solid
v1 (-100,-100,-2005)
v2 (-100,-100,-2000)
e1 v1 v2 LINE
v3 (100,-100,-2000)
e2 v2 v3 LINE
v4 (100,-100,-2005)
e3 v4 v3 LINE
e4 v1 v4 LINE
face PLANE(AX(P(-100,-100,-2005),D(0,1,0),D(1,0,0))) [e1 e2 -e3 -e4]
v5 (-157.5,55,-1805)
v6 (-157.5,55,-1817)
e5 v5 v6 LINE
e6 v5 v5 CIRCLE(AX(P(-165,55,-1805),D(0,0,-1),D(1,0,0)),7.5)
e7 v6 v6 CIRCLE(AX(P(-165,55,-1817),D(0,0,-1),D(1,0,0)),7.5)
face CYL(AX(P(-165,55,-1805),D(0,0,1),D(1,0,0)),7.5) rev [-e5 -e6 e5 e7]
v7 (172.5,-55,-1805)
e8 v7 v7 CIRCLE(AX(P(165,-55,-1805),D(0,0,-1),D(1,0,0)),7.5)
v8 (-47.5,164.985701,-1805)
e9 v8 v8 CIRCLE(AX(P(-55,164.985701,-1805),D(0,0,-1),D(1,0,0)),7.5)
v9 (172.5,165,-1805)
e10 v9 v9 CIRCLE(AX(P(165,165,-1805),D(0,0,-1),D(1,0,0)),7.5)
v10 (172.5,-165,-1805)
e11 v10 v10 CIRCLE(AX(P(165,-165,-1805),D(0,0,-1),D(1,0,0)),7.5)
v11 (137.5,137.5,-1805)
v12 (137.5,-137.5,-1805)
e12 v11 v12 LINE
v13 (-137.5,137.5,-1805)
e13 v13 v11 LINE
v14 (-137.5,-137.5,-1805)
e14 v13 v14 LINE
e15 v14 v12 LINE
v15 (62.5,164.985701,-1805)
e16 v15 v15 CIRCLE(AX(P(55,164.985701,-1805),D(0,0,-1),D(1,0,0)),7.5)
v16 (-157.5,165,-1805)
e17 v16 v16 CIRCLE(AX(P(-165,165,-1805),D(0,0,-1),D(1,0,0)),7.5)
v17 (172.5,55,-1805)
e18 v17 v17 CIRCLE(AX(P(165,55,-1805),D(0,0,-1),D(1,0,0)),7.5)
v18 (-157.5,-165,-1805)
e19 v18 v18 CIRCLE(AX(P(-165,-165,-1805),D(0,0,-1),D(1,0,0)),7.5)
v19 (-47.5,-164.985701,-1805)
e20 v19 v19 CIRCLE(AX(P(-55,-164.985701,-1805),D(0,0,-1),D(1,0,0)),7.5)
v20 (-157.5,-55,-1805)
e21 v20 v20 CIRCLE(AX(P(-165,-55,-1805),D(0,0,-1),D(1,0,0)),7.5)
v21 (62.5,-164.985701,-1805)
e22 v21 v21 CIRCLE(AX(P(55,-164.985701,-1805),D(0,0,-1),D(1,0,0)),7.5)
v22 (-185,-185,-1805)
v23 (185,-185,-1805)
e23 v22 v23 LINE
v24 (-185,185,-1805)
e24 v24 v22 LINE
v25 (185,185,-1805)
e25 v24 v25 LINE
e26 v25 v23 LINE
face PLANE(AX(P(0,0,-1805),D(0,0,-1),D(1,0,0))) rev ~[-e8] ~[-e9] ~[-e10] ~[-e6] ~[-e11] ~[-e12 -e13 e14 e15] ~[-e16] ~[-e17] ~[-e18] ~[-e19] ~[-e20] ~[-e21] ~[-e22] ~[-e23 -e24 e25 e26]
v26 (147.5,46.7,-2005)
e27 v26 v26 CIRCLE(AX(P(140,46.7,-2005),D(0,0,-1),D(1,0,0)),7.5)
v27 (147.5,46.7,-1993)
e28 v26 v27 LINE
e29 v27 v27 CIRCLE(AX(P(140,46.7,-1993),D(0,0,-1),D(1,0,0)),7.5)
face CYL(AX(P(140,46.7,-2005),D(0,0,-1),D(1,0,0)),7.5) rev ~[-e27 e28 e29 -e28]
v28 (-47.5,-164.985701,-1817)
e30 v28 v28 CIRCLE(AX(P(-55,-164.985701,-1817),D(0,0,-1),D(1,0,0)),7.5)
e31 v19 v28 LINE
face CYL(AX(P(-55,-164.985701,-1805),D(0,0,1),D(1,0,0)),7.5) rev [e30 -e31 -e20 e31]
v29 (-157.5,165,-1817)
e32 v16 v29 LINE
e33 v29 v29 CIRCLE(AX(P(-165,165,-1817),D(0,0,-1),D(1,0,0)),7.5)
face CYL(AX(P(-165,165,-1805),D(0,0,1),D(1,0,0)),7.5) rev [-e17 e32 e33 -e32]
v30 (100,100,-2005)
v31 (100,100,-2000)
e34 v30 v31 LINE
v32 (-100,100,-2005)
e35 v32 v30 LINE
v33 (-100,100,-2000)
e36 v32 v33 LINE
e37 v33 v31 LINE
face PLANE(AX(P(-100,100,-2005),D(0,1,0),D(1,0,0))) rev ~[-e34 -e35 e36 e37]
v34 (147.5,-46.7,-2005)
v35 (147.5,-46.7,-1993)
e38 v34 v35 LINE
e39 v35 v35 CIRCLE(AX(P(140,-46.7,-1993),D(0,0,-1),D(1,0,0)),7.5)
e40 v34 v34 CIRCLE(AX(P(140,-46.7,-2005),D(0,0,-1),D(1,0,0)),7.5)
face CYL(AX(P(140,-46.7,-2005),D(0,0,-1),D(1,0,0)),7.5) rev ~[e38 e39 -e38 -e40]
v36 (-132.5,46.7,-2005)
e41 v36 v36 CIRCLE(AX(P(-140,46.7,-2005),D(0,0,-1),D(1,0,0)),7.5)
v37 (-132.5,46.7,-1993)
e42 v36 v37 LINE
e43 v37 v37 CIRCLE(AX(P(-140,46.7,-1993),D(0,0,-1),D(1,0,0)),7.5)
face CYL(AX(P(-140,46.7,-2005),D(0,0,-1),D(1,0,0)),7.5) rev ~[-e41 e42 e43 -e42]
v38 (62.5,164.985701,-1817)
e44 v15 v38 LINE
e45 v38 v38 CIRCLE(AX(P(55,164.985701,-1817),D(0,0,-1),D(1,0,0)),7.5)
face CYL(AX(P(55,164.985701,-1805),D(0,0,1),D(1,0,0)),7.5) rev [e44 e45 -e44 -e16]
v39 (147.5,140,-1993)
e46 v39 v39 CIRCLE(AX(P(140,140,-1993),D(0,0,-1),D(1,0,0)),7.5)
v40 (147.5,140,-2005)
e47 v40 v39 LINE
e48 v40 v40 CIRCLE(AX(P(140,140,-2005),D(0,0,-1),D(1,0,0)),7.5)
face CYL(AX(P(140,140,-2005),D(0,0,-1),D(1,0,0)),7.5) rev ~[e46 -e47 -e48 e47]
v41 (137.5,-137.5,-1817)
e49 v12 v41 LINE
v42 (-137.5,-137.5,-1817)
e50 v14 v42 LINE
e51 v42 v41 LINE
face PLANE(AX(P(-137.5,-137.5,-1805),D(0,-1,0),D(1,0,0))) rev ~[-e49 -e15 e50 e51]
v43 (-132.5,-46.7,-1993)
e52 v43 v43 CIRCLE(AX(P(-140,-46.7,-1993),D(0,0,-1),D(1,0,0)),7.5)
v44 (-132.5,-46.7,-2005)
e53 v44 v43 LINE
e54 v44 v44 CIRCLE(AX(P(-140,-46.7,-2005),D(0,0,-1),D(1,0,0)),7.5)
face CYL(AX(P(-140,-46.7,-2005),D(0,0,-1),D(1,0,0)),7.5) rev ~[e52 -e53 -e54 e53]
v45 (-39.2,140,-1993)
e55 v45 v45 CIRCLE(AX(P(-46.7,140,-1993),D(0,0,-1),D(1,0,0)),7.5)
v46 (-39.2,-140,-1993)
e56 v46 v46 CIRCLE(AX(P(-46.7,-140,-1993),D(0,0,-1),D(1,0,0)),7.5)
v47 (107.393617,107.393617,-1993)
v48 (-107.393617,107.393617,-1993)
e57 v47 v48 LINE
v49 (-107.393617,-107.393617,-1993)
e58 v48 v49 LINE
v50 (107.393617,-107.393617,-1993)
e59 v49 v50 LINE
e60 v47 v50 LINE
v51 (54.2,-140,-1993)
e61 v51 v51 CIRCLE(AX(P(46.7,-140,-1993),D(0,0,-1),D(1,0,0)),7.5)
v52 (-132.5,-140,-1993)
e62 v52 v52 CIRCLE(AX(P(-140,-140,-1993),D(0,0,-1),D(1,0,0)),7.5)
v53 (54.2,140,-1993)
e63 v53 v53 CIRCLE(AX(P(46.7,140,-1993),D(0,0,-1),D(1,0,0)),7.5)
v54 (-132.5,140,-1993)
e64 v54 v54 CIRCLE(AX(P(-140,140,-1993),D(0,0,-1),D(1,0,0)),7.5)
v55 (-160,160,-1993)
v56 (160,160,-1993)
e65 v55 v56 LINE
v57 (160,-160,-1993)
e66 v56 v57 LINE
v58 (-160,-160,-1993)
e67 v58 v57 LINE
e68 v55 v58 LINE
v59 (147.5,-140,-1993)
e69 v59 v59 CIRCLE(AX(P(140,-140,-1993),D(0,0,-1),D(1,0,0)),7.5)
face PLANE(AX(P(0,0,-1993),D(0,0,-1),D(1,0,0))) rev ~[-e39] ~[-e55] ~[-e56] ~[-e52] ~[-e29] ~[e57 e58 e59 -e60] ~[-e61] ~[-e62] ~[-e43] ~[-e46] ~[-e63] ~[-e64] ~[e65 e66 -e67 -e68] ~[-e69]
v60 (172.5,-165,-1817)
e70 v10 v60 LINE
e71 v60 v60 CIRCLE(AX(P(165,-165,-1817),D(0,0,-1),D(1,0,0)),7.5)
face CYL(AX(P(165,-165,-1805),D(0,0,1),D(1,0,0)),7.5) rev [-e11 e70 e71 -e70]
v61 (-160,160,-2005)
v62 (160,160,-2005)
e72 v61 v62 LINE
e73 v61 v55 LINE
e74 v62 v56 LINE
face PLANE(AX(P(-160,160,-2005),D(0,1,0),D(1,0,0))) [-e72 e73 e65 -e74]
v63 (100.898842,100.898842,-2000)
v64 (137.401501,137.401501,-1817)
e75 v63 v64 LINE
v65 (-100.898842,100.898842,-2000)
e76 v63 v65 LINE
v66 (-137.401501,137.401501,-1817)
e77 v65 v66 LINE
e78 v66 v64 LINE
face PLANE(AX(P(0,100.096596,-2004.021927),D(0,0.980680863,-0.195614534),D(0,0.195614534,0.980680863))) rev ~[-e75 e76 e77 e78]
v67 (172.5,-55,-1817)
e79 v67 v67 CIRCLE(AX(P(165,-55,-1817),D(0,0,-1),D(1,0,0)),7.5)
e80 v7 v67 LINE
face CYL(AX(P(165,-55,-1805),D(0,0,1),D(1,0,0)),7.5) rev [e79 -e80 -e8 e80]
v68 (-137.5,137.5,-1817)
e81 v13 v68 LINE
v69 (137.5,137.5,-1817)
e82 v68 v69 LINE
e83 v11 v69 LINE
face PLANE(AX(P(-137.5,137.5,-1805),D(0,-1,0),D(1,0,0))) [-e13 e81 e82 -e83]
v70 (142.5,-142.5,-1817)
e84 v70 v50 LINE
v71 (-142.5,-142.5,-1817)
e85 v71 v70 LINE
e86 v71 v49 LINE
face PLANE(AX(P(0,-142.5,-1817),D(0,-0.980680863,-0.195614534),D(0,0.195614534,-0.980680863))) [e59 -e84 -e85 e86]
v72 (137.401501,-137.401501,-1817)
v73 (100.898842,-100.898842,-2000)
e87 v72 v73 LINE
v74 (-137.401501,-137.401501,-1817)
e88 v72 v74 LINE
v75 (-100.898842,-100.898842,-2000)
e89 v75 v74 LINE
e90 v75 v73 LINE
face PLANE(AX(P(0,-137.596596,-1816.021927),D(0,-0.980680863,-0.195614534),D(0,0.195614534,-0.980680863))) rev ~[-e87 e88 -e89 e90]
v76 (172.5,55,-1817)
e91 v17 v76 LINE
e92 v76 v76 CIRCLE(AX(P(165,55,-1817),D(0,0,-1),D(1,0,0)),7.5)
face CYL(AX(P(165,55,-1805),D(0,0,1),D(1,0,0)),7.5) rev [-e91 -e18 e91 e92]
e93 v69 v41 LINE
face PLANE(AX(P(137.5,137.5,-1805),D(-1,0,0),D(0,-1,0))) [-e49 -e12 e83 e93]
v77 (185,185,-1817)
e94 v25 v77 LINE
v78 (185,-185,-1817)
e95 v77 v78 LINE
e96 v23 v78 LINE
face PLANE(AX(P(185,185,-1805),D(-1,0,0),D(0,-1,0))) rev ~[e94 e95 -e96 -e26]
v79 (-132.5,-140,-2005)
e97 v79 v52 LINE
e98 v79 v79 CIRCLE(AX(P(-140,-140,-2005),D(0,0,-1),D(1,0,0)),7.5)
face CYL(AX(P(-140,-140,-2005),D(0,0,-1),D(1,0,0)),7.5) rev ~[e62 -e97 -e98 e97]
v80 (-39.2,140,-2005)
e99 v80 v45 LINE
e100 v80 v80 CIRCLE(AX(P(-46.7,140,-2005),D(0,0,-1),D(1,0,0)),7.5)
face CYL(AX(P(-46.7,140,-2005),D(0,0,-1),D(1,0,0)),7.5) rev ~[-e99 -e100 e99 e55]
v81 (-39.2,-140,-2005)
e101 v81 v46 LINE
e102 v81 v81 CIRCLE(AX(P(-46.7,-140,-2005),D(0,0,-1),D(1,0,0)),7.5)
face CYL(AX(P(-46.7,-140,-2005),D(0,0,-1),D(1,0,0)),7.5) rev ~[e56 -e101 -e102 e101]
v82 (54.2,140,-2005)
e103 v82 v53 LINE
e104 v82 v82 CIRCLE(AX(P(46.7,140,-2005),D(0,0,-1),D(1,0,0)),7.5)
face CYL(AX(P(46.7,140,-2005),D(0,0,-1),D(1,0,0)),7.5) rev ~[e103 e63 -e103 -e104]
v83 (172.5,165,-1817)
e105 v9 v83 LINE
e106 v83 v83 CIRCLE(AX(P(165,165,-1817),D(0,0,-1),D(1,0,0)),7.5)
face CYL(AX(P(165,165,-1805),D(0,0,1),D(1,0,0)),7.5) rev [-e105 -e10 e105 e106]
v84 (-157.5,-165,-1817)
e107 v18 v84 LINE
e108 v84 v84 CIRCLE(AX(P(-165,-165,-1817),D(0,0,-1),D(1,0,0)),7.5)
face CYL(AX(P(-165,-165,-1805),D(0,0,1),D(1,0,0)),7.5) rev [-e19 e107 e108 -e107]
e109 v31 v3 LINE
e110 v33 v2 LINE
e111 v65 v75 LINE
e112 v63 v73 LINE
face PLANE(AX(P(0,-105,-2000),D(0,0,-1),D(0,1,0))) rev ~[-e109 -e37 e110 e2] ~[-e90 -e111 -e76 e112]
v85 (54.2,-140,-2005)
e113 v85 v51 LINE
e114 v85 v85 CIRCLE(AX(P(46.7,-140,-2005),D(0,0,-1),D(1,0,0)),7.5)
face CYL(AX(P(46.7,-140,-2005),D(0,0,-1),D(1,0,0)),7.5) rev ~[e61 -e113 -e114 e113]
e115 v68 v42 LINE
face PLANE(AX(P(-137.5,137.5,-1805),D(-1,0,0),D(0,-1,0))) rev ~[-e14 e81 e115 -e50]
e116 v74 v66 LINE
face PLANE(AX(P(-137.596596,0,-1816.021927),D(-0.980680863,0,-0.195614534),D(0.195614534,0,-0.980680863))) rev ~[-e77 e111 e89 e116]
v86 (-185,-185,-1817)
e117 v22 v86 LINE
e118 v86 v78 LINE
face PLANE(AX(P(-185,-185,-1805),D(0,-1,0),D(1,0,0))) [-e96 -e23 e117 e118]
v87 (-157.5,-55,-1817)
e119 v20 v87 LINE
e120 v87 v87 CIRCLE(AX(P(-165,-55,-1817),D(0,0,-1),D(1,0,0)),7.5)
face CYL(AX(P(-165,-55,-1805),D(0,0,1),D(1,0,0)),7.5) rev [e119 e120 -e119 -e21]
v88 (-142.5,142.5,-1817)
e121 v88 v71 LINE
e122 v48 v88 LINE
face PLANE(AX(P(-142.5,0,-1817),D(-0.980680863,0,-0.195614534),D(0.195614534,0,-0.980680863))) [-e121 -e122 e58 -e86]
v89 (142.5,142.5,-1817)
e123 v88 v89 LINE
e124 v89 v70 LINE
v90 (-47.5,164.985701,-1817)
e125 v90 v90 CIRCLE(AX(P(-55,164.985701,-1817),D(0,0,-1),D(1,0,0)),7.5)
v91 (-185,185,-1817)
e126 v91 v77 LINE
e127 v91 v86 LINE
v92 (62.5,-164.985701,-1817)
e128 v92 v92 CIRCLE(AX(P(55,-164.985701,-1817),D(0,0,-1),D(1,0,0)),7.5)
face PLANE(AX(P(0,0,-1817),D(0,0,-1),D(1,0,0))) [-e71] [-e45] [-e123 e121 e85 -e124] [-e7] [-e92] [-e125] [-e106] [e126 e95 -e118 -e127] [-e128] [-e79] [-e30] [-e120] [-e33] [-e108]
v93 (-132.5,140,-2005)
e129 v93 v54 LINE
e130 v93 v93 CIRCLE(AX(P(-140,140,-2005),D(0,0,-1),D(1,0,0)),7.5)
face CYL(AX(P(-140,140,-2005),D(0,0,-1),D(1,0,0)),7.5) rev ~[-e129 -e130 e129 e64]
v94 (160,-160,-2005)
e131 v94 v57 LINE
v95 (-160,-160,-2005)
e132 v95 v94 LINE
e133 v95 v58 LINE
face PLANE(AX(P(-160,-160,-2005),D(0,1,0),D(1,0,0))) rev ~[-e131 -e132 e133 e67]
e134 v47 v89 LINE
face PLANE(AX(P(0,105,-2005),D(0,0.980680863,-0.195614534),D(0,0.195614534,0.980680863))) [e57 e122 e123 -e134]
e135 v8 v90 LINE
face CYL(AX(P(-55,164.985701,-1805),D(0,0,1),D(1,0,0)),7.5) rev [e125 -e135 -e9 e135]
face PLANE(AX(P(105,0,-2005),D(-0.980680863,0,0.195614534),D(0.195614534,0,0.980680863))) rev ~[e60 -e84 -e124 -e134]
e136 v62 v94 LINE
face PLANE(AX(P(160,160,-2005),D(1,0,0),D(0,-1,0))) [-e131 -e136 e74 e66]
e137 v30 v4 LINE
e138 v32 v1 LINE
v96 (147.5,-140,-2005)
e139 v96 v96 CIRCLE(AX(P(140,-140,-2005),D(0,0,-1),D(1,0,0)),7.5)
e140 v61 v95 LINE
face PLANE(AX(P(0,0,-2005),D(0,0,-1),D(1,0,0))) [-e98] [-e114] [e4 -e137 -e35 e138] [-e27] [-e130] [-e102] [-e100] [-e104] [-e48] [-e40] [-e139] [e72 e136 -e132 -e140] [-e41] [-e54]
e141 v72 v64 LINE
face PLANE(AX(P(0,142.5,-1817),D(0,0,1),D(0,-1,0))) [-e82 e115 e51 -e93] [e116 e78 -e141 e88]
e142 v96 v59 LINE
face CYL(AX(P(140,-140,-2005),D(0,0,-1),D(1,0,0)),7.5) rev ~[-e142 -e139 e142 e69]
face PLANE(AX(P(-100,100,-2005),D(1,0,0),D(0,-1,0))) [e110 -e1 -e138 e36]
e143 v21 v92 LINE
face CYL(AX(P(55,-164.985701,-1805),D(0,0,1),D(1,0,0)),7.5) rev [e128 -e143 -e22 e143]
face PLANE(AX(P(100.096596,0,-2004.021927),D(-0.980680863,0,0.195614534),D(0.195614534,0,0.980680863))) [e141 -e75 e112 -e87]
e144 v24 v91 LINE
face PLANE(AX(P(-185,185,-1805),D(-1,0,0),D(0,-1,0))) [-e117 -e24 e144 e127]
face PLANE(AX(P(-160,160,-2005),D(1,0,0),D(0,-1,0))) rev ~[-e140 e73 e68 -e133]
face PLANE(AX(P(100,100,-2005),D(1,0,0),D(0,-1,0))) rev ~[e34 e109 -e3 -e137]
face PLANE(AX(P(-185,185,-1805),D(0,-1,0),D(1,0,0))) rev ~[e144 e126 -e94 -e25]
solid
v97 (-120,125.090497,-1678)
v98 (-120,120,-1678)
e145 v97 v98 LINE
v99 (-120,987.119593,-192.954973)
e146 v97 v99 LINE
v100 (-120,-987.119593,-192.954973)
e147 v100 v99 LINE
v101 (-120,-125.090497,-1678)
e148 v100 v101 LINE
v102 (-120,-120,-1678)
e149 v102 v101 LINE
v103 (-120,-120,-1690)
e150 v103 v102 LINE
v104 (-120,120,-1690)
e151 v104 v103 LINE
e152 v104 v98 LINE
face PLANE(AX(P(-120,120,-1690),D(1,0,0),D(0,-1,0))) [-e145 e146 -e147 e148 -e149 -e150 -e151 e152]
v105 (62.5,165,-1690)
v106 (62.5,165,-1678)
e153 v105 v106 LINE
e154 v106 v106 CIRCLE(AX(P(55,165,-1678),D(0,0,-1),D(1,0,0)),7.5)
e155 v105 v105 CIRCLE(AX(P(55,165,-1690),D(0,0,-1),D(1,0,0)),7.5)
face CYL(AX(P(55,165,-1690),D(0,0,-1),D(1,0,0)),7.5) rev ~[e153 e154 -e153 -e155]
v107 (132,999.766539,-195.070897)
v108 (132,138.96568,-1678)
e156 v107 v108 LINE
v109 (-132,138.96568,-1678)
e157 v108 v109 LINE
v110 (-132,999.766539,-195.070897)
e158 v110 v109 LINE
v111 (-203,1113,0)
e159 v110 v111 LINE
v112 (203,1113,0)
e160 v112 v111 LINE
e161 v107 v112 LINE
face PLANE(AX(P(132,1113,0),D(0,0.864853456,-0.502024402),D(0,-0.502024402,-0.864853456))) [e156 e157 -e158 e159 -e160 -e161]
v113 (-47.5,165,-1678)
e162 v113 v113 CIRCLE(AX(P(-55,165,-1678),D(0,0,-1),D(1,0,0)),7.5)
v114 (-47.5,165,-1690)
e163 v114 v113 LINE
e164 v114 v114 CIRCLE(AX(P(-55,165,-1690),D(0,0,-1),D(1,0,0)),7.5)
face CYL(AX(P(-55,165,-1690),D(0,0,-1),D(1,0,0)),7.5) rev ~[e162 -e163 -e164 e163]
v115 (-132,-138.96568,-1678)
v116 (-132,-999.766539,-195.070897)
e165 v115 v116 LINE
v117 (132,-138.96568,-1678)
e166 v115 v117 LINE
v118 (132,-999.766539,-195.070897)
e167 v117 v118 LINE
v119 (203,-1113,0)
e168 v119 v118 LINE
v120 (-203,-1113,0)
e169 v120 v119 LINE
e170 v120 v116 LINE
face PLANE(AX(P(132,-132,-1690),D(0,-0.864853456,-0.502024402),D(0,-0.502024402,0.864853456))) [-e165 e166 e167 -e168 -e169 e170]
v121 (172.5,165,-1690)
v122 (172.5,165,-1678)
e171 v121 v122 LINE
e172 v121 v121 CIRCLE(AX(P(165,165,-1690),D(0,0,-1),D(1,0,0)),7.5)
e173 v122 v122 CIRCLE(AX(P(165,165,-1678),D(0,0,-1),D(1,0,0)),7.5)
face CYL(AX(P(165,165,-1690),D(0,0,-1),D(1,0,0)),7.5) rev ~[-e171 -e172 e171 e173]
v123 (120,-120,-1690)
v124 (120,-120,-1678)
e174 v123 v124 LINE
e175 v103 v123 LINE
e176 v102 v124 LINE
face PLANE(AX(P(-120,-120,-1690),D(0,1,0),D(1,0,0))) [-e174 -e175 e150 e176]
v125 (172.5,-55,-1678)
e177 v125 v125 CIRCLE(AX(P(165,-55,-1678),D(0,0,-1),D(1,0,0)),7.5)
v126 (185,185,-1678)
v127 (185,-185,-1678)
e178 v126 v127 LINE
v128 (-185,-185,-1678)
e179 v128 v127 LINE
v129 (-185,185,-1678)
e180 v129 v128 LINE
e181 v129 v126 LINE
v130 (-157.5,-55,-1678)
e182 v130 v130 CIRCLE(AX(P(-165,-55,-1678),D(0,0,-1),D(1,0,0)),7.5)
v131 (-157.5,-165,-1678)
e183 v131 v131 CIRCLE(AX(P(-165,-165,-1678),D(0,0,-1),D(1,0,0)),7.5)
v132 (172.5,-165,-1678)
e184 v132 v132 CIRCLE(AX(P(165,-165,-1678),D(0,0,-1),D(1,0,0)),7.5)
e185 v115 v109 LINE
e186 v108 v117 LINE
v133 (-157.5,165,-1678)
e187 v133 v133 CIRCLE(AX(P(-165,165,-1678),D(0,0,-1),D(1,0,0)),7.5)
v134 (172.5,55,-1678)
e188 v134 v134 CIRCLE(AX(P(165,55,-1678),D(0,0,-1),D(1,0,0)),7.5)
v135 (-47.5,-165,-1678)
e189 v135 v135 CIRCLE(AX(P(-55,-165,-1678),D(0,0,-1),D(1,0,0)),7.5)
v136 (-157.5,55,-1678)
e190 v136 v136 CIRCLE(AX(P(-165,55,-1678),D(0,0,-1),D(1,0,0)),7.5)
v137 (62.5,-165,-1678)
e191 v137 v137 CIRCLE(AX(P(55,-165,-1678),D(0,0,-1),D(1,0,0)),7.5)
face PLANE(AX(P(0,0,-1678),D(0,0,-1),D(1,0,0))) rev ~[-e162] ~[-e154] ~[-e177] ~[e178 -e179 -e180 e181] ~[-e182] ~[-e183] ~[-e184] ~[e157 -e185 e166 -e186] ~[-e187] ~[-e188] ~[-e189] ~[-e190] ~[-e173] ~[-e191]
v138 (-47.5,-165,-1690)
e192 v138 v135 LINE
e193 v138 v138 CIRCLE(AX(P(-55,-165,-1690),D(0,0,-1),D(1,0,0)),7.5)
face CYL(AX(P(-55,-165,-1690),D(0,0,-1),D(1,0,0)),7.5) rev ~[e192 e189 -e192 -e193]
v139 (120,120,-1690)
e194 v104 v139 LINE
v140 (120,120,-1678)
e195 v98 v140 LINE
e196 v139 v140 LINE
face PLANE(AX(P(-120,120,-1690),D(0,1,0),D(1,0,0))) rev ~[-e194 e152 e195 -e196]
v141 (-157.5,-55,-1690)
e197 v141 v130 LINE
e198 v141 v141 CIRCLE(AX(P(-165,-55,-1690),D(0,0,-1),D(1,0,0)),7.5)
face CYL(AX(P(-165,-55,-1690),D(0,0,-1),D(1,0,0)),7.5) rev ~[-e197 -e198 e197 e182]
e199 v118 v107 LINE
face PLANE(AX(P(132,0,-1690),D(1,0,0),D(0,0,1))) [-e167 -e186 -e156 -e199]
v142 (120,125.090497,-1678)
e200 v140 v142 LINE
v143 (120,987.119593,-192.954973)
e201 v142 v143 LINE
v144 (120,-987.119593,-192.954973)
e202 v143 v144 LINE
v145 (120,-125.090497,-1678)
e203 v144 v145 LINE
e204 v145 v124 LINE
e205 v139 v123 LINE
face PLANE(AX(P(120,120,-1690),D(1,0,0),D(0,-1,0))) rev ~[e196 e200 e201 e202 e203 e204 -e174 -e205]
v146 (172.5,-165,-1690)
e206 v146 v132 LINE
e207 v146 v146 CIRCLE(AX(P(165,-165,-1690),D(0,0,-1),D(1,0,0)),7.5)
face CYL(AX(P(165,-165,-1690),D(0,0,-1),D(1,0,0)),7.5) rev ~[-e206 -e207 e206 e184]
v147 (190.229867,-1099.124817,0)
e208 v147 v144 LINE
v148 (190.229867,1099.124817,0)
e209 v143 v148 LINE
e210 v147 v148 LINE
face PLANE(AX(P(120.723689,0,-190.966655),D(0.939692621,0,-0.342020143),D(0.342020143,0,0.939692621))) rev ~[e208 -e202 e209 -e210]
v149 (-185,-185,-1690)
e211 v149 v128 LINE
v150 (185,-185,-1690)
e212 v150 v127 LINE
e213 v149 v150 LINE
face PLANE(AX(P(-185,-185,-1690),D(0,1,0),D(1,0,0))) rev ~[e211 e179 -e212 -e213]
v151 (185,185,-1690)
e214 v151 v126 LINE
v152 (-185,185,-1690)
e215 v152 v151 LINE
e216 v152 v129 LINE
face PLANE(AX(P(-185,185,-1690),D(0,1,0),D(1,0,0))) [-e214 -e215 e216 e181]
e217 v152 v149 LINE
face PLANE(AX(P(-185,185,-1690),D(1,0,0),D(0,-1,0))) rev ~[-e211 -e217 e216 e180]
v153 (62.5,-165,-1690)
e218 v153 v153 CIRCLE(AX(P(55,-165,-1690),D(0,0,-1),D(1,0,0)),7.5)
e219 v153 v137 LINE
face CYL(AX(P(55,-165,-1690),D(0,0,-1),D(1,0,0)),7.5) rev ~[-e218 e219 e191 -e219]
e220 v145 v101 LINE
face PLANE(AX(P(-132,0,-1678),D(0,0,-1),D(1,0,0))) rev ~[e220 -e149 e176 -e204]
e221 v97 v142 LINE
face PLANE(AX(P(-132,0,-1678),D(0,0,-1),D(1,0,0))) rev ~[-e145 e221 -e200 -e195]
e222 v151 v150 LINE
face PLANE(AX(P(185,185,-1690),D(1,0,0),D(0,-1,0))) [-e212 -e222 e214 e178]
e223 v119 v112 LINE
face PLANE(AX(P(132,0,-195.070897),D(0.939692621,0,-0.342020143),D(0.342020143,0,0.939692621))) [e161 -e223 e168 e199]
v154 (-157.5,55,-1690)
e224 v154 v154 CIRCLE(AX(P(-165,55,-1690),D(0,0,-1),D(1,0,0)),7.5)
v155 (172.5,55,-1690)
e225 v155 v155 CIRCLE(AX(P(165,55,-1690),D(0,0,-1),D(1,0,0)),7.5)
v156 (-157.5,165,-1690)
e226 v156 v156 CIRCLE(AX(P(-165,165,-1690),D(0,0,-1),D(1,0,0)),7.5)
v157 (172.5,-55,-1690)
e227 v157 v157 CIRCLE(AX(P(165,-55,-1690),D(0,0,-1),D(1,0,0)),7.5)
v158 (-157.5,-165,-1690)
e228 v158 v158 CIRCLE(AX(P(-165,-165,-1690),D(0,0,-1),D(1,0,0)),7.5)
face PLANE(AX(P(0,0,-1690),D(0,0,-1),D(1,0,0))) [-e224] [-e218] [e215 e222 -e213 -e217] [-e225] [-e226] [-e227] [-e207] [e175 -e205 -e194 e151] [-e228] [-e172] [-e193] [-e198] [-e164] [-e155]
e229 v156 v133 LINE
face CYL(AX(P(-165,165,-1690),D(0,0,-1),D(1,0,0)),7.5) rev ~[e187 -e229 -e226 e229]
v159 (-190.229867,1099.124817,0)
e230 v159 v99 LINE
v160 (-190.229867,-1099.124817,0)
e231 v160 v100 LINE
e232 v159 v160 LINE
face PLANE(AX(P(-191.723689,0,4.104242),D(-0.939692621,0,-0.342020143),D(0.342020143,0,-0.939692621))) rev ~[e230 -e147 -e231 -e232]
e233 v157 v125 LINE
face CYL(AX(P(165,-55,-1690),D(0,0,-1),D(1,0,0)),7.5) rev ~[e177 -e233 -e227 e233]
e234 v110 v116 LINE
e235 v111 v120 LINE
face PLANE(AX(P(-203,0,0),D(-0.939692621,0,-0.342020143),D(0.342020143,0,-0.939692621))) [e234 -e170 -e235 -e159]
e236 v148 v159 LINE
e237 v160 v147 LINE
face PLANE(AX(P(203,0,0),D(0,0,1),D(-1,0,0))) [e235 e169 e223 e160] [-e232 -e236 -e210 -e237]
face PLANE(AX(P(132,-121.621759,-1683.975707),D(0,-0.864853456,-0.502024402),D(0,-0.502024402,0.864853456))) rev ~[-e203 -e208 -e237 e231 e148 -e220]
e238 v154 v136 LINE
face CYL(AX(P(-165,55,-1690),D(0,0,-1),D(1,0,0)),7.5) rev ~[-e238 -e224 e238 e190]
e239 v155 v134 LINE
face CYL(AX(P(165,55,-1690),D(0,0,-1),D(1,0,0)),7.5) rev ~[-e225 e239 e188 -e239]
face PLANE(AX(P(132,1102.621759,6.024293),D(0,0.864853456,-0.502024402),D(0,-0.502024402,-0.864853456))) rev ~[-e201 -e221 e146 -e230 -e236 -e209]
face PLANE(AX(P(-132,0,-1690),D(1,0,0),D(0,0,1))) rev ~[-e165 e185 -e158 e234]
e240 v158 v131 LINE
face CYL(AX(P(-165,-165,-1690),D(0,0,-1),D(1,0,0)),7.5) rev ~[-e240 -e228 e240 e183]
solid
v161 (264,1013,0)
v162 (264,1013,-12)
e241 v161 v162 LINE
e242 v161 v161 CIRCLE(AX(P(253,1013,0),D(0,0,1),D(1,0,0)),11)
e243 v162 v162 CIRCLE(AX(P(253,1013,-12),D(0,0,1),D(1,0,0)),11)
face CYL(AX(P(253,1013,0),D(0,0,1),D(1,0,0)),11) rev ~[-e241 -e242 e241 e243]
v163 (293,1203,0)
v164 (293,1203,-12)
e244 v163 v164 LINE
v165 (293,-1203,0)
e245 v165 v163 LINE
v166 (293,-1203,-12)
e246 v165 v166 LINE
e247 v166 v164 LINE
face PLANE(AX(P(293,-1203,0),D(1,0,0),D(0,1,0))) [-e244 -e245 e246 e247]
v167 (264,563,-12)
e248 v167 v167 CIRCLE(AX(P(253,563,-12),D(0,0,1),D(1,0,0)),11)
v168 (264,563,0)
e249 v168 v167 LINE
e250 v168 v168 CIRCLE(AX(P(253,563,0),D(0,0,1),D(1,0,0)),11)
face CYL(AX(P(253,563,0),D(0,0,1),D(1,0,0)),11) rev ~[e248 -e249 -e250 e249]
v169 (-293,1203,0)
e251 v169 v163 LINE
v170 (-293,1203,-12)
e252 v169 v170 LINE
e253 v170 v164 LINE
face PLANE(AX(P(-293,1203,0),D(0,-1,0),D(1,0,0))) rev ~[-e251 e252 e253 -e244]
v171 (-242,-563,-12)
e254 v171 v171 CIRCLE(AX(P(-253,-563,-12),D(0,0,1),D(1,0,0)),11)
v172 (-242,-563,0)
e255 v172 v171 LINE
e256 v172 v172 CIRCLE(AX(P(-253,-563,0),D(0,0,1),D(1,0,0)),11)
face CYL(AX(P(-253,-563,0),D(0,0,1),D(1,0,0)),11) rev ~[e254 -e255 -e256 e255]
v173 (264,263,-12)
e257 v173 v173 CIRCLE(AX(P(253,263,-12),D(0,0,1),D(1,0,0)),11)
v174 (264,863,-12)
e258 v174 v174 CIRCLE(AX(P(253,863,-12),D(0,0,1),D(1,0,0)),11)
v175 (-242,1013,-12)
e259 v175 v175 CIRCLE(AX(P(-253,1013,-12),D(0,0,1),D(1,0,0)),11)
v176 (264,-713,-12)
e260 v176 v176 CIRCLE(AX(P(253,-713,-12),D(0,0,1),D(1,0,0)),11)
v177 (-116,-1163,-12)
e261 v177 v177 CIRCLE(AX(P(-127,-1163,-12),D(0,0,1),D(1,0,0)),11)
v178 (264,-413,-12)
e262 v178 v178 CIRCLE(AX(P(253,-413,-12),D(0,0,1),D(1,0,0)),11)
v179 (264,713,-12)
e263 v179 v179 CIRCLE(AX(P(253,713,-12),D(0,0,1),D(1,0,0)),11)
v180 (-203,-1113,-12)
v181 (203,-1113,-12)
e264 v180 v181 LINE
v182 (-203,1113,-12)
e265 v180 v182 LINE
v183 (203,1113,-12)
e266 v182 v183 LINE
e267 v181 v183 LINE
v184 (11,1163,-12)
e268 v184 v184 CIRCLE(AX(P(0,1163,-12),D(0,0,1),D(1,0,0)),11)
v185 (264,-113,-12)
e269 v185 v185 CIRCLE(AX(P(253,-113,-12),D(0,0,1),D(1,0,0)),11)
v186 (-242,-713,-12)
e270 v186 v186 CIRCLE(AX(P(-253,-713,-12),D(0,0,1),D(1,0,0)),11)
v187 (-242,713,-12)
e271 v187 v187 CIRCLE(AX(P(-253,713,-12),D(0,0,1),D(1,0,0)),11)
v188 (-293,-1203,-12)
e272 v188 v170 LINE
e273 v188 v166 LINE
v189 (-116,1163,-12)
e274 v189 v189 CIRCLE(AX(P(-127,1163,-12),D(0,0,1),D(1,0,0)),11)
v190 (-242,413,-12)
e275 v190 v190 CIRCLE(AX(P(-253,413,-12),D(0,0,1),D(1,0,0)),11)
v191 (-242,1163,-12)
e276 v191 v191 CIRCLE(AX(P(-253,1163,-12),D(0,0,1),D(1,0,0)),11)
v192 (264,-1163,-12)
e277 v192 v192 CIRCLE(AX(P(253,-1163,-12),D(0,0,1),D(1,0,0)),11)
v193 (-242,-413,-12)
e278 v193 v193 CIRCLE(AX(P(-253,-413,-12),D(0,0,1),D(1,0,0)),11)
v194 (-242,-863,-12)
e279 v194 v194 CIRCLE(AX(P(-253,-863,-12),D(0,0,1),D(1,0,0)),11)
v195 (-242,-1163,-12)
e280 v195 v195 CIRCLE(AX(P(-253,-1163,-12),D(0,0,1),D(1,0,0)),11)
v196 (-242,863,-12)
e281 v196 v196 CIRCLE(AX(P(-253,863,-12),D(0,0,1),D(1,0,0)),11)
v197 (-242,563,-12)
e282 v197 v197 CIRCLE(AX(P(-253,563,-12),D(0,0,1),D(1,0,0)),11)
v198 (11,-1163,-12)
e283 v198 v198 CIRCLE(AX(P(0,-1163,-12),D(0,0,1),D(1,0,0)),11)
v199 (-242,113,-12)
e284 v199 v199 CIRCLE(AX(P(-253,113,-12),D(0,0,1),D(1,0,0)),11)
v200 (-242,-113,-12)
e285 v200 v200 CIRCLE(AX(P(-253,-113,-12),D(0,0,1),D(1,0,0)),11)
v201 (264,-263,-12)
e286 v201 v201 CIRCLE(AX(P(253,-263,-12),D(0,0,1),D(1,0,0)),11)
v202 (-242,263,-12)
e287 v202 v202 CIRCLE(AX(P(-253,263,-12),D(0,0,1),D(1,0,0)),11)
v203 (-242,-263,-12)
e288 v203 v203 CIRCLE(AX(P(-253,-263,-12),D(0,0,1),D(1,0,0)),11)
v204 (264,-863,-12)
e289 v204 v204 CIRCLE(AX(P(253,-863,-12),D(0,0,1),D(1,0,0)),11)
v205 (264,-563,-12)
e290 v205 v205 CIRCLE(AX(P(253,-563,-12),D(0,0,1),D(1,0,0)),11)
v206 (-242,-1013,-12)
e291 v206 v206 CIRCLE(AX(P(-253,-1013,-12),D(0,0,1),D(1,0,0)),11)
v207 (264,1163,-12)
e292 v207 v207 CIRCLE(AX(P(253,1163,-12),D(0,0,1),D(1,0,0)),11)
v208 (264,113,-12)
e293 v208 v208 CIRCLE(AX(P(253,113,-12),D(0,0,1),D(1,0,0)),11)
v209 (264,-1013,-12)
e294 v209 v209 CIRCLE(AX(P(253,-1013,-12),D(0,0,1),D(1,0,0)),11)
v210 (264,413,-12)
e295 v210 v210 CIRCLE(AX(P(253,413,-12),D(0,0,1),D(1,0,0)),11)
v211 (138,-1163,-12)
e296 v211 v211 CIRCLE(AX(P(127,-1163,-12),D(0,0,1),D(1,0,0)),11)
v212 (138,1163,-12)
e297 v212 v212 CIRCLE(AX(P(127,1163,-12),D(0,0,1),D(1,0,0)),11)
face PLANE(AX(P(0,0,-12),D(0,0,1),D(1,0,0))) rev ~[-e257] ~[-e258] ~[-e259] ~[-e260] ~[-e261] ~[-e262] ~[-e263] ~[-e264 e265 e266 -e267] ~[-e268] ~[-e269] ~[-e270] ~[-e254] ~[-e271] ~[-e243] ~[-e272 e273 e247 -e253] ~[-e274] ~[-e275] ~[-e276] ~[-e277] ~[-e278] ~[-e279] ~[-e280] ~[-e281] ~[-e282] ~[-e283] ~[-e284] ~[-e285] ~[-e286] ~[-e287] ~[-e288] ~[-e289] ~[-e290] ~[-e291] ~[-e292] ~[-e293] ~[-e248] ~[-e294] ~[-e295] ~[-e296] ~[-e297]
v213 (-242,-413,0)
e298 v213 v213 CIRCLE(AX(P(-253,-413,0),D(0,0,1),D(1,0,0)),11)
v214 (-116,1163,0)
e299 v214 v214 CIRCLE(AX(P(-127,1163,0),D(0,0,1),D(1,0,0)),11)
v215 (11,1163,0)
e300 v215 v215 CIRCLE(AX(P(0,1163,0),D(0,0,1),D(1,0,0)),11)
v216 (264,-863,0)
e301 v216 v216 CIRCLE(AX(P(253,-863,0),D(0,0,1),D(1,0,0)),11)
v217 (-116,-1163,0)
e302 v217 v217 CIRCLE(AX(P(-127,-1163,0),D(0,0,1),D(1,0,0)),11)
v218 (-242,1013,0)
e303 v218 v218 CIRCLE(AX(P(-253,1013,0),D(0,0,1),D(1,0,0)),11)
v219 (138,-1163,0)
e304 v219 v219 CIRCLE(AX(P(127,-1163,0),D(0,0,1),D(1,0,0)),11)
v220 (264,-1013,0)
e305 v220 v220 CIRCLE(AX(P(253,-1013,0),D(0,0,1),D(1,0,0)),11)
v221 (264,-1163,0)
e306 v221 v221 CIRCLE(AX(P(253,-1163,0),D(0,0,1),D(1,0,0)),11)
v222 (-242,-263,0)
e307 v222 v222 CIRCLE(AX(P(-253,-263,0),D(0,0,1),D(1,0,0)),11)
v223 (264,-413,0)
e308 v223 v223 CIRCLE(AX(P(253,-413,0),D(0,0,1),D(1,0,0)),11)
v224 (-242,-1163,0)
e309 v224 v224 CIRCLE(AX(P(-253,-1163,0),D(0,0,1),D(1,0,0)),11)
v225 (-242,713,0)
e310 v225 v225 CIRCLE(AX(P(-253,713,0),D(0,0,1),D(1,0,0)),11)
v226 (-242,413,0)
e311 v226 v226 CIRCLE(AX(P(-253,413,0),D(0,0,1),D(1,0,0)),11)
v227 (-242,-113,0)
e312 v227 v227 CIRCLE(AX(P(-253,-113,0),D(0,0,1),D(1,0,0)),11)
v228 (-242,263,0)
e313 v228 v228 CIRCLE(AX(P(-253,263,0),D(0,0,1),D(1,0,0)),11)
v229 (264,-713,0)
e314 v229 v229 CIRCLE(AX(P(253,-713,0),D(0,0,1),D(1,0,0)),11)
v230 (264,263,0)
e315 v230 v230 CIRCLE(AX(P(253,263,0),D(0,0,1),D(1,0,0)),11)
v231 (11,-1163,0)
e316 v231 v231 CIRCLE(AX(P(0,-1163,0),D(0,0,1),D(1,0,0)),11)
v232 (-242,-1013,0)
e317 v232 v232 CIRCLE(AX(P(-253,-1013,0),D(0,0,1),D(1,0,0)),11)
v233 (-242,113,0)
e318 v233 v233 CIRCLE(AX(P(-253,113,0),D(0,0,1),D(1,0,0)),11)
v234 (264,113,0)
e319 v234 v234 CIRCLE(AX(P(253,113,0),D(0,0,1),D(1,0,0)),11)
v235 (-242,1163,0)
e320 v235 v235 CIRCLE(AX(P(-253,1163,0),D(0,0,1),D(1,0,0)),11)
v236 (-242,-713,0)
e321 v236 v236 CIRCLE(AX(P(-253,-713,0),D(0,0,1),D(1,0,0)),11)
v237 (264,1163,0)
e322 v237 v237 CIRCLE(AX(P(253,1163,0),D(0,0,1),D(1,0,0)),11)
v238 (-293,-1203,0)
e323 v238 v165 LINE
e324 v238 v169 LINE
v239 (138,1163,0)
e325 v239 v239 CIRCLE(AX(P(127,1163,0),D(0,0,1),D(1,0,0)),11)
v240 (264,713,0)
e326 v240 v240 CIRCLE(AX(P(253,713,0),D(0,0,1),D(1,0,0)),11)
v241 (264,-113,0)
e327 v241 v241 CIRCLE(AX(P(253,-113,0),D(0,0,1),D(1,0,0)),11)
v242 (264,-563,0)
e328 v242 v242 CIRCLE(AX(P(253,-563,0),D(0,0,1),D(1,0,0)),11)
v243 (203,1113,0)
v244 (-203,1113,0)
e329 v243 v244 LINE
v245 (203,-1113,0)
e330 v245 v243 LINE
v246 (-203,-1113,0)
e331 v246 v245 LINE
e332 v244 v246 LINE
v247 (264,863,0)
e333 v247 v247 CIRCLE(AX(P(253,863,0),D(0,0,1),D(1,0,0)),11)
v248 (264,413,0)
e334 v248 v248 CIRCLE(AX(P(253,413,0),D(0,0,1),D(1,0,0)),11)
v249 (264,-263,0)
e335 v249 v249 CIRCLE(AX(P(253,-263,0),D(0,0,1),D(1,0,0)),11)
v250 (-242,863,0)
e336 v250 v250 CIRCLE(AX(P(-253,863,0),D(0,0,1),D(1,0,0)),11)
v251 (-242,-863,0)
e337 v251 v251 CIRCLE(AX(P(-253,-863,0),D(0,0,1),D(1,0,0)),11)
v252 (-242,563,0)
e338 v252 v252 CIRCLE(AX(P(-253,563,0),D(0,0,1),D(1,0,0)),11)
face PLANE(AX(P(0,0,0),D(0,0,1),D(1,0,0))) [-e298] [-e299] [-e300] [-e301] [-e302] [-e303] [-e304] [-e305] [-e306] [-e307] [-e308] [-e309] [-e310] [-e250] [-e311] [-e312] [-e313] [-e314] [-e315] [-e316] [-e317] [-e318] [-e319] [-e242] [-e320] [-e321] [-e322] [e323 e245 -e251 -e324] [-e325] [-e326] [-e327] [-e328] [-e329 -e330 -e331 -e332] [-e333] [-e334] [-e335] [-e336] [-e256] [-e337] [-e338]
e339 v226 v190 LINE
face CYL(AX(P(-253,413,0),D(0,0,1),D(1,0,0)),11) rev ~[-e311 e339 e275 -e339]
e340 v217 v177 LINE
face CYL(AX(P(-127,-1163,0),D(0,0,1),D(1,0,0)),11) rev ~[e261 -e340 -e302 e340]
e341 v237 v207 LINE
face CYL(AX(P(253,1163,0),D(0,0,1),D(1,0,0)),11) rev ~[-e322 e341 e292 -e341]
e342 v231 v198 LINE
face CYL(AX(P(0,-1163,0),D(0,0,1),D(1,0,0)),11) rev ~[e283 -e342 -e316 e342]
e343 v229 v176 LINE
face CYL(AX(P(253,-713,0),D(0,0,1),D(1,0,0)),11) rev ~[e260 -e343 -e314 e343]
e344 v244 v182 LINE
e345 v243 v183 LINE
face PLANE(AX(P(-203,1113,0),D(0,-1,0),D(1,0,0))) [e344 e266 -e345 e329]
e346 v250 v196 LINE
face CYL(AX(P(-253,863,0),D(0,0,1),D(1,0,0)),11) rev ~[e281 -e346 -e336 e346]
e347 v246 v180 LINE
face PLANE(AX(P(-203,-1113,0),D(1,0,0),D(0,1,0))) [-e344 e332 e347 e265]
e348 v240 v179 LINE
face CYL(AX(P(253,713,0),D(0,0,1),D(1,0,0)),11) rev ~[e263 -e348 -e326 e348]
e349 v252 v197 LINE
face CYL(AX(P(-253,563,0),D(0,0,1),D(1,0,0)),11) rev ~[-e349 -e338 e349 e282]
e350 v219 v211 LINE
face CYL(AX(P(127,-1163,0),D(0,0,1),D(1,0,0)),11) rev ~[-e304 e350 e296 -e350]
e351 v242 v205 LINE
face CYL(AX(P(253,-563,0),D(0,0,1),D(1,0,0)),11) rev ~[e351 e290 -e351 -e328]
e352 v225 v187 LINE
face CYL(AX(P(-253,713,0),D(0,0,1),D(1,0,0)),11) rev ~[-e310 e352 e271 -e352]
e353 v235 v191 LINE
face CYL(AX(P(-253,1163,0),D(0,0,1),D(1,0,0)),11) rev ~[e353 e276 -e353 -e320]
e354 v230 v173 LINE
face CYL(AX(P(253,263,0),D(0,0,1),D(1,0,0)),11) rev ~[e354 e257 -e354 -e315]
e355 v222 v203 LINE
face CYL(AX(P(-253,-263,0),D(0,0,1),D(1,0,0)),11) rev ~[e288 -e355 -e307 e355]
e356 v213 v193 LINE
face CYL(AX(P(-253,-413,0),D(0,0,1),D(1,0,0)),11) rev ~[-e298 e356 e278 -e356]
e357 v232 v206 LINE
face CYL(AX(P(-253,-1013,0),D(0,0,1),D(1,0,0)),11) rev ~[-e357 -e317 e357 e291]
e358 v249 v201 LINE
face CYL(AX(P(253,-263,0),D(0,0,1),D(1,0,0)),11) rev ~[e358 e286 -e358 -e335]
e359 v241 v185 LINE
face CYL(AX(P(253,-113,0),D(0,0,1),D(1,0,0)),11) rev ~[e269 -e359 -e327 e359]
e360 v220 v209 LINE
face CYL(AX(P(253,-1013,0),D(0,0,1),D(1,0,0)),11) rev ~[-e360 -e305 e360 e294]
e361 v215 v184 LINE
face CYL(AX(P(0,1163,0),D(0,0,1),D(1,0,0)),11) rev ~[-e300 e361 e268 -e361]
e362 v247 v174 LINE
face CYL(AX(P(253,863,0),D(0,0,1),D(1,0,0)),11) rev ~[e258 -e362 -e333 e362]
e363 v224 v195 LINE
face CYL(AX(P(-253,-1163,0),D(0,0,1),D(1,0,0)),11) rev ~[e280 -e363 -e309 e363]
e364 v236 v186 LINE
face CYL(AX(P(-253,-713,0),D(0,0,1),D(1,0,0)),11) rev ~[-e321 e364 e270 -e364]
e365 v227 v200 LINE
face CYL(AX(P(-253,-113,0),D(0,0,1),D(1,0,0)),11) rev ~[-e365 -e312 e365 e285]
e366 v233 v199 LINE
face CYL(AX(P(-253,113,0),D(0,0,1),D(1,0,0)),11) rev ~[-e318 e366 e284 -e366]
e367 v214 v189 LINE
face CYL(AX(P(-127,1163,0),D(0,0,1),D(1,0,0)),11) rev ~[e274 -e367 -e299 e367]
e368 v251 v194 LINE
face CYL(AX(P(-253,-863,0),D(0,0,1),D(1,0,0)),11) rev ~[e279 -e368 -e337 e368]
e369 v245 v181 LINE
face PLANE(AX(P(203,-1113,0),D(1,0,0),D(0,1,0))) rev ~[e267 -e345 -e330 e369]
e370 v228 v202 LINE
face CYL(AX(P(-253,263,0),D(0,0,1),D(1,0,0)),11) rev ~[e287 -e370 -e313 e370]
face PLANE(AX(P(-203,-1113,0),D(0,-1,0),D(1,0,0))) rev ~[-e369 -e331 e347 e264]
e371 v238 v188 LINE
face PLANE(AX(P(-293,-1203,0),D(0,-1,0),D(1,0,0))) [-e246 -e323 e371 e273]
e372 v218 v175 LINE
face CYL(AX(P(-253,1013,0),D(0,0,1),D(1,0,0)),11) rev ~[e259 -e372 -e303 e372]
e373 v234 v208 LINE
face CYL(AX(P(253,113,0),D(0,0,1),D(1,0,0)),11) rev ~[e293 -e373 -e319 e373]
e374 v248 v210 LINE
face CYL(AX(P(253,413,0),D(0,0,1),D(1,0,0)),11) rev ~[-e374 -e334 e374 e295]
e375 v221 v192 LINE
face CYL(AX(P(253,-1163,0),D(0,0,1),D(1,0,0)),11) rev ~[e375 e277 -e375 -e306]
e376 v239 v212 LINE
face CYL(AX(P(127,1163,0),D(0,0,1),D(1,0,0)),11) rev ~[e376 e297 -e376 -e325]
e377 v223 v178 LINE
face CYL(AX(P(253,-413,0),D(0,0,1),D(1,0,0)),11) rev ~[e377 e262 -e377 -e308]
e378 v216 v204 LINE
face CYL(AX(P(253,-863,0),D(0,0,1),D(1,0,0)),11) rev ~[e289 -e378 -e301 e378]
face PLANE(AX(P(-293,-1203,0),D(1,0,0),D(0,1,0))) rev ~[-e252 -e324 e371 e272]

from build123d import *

# Parameters (mm, degrees)
F0_W          = 264
F0_H          = 1494.9291032187
F1_DEPTH      = 1113
F3_DEPTH      = 400
F3_DEPTH_BACK = 400
F4_T          = -12
F5_W          = 240
F5_H          = 240
F6_DEPTH      = 1690.001
F7_W          = 586
F7_H          = 2406
F7_R          = 11
F7_W_2        = 406
F7_H_2        = 2226
F8_DEPTH      = 12
F9_W          = 370
F9_H          = 370
F9_R          = 7.5
F9_W_2        = 264
F9_H_2        = 264
F10_DEPTH     = 12
F12_W         = 370
F12_H         = 370
F12_R         = 7.5
F12_W_2       = 275
F12_H_2       = 275
F13_DEPTH     = 12
F16_DEPTH     = 142.5
F19_DEPTH     = 142.5
F20_T         = -5
F21_W         = 200
F21_H         = 200
F22_DEPTH     = 10
F23_W         = 320
F23_H         = 320
F23_R         = 7.5
F23_W_2       = 210
F23_H_2       = 210
F24_DEPTH     = 12


with BuildPart() as f1:
    # F0 (on Front) → F1 (new body, symmetric)
    with BuildSketch(Plane.XZ):
        Polygon((203, 0), (-203, 0), (-132, -195.0708967813), (132, -195.0708967813), align=None)
        with Locations((0, -942.5354483906)):
            Rectangle(F0_W, F0_H)
    extrude(amount=F1_DEPTH, both=True)

    # F2 (on face) → F3 (cut, two sides)
    with BuildSketch(Plane.YZ.offset(132)) as f3_sk:
        Polygon((1113, 0), (132, -1690), (1113, -1690), align=None)
        Polygon((-1113, -1690), (-132, -1690), (-1113, 0), align=None)
    extrude(amount=-F3_DEPTH, mode=Mode.SUBTRACT)
    extrude(f3_sk.sketch, amount=F3_DEPTH_BACK, mode=Mode.SUBTRACT)

    # F4
    f4_openings = [f1.faces().sort_by_distance(p)[0] for p in [
        (0, 0, 0),
    ]]
    offset(amount=F4_T, openings=f4_openings, kind=Kind.INTERSECTION)

    # F5 (on face) → F6 (cut, through all)
    with BuildSketch(Plane(origin=(0, 0, -1690), x_dir=(1, 0, 0), z_dir=(0, 0, -1))):
        Rectangle(F5_W, F5_H)
    extrude(amount=-F6_DEPTH, mode=Mode.SUBTRACT)

    # F7 (on face) → F8 (join)
    with BuildSketch(Plane.XY):
        Rectangle(F7_W, F7_H)
        with Locations((-253, -1163)):
            Circle(F7_R, mode=Mode.SUBTRACT)
        with Locations((-253, -1013)):
            Circle(F7_R, mode=Mode.SUBTRACT)
        with Locations((-253, -863)):
            Circle(F7_R, mode=Mode.SUBTRACT)
        with Locations((-253, -713)):
            Circle(F7_R, mode=Mode.SUBTRACT)
        with Locations((-127, -1163)):
            Circle(F7_R, mode=Mode.SUBTRACT)
        with Locations((-253, -563)):
            Circle(F7_R, mode=Mode.SUBTRACT)
        with Locations((-253, -413)):
            Circle(F7_R, mode=Mode.SUBTRACT)
        with Locations((-253, -263)):
            Circle(F7_R, mode=Mode.SUBTRACT)
        with Locations((-253, -113)):
            Circle(F7_R, mode=Mode.SUBTRACT)
        with Locations((0, -1163)):
            Circle(F7_R, mode=Mode.SUBTRACT)
        with Locations((127, -1163)):
            Circle(F7_R, mode=Mode.SUBTRACT)
        with Locations((253, -1163)):
            Circle(F7_R, mode=Mode.SUBTRACT)
        with Locations((253, -1013)):
            Circle(F7_R, mode=Mode.SUBTRACT)
        with Locations((253, -863)):
            Circle(F7_R, mode=Mode.SUBTRACT)
        with Locations((253, -713)):
            Circle(F7_R, mode=Mode.SUBTRACT)
        with Locations((253, -563)):
            Circle(F7_R, mode=Mode.SUBTRACT)
        with Locations((253, -413)):
            Circle(F7_R, mode=Mode.SUBTRACT)
        with Locations((253, -263)):
            Circle(F7_R, mode=Mode.SUBTRACT)
        with Locations((253, -113)):
            Circle(F7_R, mode=Mode.SUBTRACT)
        with Locations((-253, 113)):
            Circle(F7_R, mode=Mode.SUBTRACT)
        with Locations((-253, 263)):
            Circle(F7_R, mode=Mode.SUBTRACT)
        with Locations((-253, 413)):
            Circle(F7_R, mode=Mode.SUBTRACT)
        with Locations((-253, 563)):
            Circle(F7_R, mode=Mode.SUBTRACT)
        with Locations((-253, 713)):
            Circle(F7_R, mode=Mode.SUBTRACT)
        with Locations((-253, 863)):
            Circle(F7_R, mode=Mode.SUBTRACT)
        with Locations((-253, 1013)):
            Circle(F7_R, mode=Mode.SUBTRACT)
        with Locations((-253, 1163)):
            Circle(F7_R, mode=Mode.SUBTRACT)
        with Locations((-127, 1163)):
            Circle(F7_R, mode=Mode.SUBTRACT)
        Rectangle(F7_W_2, F7_H_2, mode=Mode.SUBTRACT)
        with Locations((253, 113)):
            Circle(F7_R, mode=Mode.SUBTRACT)
        with Locations((253, 263)):
            Circle(F7_R, mode=Mode.SUBTRACT)
        with Locations((253, 413)):
            Circle(F7_R, mode=Mode.SUBTRACT)
        with Locations((253, 563)):
            Circle(F7_R, mode=Mode.SUBTRACT)
        with Locations((0, 1163)):
            Circle(F7_R, mode=Mode.SUBTRACT)
        with Locations((127, 1163)):
            Circle(F7_R, mode=Mode.SUBTRACT)
        with Locations((253, 713)):
            Circle(F7_R, mode=Mode.SUBTRACT)
        with Locations((253, 863)):
            Circle(F7_R, mode=Mode.SUBTRACT)
        with Locations((253, 1013)):
            Circle(F7_R, mode=Mode.SUBTRACT)
        with Locations((253, 1163)):
            Circle(F7_R, mode=Mode.SUBTRACT)
    extrude(amount=-F8_DEPTH)

    # F9 (on face) → F10 (join)
    with BuildSketch(Plane(origin=(0, 0, -1690), x_dir=(1, 0, 0), z_dir=(0, 0, -1))):
        Rectangle(F9_W, F9_H)
        with Locations((-165, -165)):
            Circle(F9_R, mode=Mode.SUBTRACT)
        with Locations((-55, -165)):
            Circle(F9_R, mode=Mode.SUBTRACT)
        with Locations((-165, -55)):
            Circle(F9_R, mode=Mode.SUBTRACT)
        with Locations((55, -165)):
            Circle(F9_R, mode=Mode.SUBTRACT)
        with Locations((165, -165)):
            Circle(F9_R, mode=Mode.SUBTRACT)
        with Locations((165, -55)):
            Circle(F9_R, mode=Mode.SUBTRACT)
        with Locations((-165, 55)):
            Circle(F9_R, mode=Mode.SUBTRACT)
        with Locations((-165, 165)):
            Circle(F9_R, mode=Mode.SUBTRACT)
        with Locations((-55, 165)):
            Circle(F9_R, mode=Mode.SUBTRACT)
        Rectangle(F9_W_2, F9_H_2, mode=Mode.SUBTRACT)
        with Locations((165, 55)):
            Circle(F9_R, mode=Mode.SUBTRACT)
        with Locations((55, 165)):
            Circle(F9_R, mode=Mode.SUBTRACT)
        with Locations((165, 165)):
            Circle(F9_R, mode=Mode.SUBTRACT)
    extrude(amount=-F10_DEPTH)


with BuildPart() as f13:
    # F12 (on offset) → F13 (new body)
    with BuildSketch(Plane(origin=(0, 0, -1805), x_dir=(1, 0, 0), z_dir=(0, 0, -1))):
        Rectangle(F12_W, F12_H)
        with Locations((-165, -165)):
            Circle(F12_R, mode=Mode.SUBTRACT)
        with Locations((-55, -164.9857014418)):
            Circle(F12_R, mode=Mode.SUBTRACT)
        with Locations((-165, -55)):
            Circle(F12_R, mode=Mode.SUBTRACT)
        with Locations((55, -164.9857014418)):
            Circle(F12_R, mode=Mode.SUBTRACT)
        with Locations((165, -165)):
            Circle(F12_R, mode=Mode.SUBTRACT)
        with Locations((165, -55)):
            Circle(F12_R, mode=Mode.SUBTRACT)
        with Locations((-165, 55)):
            Circle(F12_R, mode=Mode.SUBTRACT)
        with Locations((-165, 165)):
            Circle(F12_R, mode=Mode.SUBTRACT)
        with Locations((-55, 164.9857014418)):
            Circle(F12_R, mode=Mode.SUBTRACT)
        Rectangle(F12_W_2, F12_H_2, mode=Mode.SUBTRACT)
        with Locations((165, 55)):
            Circle(F12_R, mode=Mode.SUBTRACT)
        with Locations((55, 164.9857014418)):
            Circle(F12_R, mode=Mode.SUBTRACT)
        with Locations((165, 165)):
            Circle(F12_R, mode=Mode.SUBTRACT)
    extrude(amount=F13_DEPTH)



with BuildPart() as f16:
    # F15 (on face) → F16 (new body, symmetric)
    with BuildSketch(Plane.YZ):
        Polygon((105, -2005), (142.5, -1817), (-142.5, -1817), (-105, -2005), align=None)
    extrude(amount=F16_DEPTH, both=True)

    # F18 (on face) → F19 (cut, symmetric)
    with BuildSketch(Plane(origin=(0, 0, 0), x_dir=(-1, 0, 0), z_dir=(0, 1, 0))):
        Polygon((142.5, -2005), (142.5, -1817), (105, -2005), align=None)
        Polygon((-105, -2005), (-142.5, -1817), (-142.5, -2005), align=None)
    extrude(amount=F19_DEPTH, both=True, mode=Mode.SUBTRACT)

    # F20
    f20_openings = [f16.faces().sort_by_distance(p)[0] for p in [
        (0, 0, -1817),
    ]]
    offset(amount=F20_T, openings=f20_openings)

    # F21 (on face) → F22 (cut)
    with BuildSketch(Plane(origin=(0, 0, -2005), x_dir=(1, 0, 0), z_dir=(0, 0, -1))):
        Rectangle(F21_W, F21_H)
    extrude(amount=-F22_DEPTH, mode=Mode.SUBTRACT)


with BuildPart() as f13_1:
    add(f13.part)

    add(f16.part)  # F24 merges F16
    # F23 (on face) → F24 (join)
    with BuildSketch(Plane(origin=(0, 0, -2005), x_dir=(1, 0, 0), z_dir=(0, 0, -1))):
        Rectangle(F23_W, F23_H)
        with Locations((-140, -140)):
            Circle(F23_R, mode=Mode.SUBTRACT)
        with Locations((-46.7, -140)):
            Circle(F23_R, mode=Mode.SUBTRACT)
        with Locations((-140, -46.7)):
            Circle(F23_R, mode=Mode.SUBTRACT)
        with Locations((46.7, -140)):
            Circle(F23_R, mode=Mode.SUBTRACT)
        with Locations((140, -140)):
            Circle(F23_R, mode=Mode.SUBTRACT)
        with Locations((140, -46.7)):
            Circle(F23_R, mode=Mode.SUBTRACT)
        with Locations((-140, 46.7)):
            Circle(F23_R, mode=Mode.SUBTRACT)
        with Locations((-140, 140)):
            Circle(F23_R, mode=Mode.SUBTRACT)
        with Locations((-46.7, 140)):
            Circle(F23_R, mode=Mode.SUBTRACT)
        Rectangle(F23_W_2, F23_H_2, mode=Mode.SUBTRACT)
        with Locations((140, 46.7)):
            Circle(F23_R, mode=Mode.SUBTRACT)
        with Locations((46.7, 140)):
            Circle(F23_R, mode=Mode.SUBTRACT)
        with Locations((140, 140)):
            Circle(F23_R, mode=Mode.SUBTRACT)
    extrude(amount=-F24_DEPTH)


solid = Compound([f1.part, f13_1.part])
